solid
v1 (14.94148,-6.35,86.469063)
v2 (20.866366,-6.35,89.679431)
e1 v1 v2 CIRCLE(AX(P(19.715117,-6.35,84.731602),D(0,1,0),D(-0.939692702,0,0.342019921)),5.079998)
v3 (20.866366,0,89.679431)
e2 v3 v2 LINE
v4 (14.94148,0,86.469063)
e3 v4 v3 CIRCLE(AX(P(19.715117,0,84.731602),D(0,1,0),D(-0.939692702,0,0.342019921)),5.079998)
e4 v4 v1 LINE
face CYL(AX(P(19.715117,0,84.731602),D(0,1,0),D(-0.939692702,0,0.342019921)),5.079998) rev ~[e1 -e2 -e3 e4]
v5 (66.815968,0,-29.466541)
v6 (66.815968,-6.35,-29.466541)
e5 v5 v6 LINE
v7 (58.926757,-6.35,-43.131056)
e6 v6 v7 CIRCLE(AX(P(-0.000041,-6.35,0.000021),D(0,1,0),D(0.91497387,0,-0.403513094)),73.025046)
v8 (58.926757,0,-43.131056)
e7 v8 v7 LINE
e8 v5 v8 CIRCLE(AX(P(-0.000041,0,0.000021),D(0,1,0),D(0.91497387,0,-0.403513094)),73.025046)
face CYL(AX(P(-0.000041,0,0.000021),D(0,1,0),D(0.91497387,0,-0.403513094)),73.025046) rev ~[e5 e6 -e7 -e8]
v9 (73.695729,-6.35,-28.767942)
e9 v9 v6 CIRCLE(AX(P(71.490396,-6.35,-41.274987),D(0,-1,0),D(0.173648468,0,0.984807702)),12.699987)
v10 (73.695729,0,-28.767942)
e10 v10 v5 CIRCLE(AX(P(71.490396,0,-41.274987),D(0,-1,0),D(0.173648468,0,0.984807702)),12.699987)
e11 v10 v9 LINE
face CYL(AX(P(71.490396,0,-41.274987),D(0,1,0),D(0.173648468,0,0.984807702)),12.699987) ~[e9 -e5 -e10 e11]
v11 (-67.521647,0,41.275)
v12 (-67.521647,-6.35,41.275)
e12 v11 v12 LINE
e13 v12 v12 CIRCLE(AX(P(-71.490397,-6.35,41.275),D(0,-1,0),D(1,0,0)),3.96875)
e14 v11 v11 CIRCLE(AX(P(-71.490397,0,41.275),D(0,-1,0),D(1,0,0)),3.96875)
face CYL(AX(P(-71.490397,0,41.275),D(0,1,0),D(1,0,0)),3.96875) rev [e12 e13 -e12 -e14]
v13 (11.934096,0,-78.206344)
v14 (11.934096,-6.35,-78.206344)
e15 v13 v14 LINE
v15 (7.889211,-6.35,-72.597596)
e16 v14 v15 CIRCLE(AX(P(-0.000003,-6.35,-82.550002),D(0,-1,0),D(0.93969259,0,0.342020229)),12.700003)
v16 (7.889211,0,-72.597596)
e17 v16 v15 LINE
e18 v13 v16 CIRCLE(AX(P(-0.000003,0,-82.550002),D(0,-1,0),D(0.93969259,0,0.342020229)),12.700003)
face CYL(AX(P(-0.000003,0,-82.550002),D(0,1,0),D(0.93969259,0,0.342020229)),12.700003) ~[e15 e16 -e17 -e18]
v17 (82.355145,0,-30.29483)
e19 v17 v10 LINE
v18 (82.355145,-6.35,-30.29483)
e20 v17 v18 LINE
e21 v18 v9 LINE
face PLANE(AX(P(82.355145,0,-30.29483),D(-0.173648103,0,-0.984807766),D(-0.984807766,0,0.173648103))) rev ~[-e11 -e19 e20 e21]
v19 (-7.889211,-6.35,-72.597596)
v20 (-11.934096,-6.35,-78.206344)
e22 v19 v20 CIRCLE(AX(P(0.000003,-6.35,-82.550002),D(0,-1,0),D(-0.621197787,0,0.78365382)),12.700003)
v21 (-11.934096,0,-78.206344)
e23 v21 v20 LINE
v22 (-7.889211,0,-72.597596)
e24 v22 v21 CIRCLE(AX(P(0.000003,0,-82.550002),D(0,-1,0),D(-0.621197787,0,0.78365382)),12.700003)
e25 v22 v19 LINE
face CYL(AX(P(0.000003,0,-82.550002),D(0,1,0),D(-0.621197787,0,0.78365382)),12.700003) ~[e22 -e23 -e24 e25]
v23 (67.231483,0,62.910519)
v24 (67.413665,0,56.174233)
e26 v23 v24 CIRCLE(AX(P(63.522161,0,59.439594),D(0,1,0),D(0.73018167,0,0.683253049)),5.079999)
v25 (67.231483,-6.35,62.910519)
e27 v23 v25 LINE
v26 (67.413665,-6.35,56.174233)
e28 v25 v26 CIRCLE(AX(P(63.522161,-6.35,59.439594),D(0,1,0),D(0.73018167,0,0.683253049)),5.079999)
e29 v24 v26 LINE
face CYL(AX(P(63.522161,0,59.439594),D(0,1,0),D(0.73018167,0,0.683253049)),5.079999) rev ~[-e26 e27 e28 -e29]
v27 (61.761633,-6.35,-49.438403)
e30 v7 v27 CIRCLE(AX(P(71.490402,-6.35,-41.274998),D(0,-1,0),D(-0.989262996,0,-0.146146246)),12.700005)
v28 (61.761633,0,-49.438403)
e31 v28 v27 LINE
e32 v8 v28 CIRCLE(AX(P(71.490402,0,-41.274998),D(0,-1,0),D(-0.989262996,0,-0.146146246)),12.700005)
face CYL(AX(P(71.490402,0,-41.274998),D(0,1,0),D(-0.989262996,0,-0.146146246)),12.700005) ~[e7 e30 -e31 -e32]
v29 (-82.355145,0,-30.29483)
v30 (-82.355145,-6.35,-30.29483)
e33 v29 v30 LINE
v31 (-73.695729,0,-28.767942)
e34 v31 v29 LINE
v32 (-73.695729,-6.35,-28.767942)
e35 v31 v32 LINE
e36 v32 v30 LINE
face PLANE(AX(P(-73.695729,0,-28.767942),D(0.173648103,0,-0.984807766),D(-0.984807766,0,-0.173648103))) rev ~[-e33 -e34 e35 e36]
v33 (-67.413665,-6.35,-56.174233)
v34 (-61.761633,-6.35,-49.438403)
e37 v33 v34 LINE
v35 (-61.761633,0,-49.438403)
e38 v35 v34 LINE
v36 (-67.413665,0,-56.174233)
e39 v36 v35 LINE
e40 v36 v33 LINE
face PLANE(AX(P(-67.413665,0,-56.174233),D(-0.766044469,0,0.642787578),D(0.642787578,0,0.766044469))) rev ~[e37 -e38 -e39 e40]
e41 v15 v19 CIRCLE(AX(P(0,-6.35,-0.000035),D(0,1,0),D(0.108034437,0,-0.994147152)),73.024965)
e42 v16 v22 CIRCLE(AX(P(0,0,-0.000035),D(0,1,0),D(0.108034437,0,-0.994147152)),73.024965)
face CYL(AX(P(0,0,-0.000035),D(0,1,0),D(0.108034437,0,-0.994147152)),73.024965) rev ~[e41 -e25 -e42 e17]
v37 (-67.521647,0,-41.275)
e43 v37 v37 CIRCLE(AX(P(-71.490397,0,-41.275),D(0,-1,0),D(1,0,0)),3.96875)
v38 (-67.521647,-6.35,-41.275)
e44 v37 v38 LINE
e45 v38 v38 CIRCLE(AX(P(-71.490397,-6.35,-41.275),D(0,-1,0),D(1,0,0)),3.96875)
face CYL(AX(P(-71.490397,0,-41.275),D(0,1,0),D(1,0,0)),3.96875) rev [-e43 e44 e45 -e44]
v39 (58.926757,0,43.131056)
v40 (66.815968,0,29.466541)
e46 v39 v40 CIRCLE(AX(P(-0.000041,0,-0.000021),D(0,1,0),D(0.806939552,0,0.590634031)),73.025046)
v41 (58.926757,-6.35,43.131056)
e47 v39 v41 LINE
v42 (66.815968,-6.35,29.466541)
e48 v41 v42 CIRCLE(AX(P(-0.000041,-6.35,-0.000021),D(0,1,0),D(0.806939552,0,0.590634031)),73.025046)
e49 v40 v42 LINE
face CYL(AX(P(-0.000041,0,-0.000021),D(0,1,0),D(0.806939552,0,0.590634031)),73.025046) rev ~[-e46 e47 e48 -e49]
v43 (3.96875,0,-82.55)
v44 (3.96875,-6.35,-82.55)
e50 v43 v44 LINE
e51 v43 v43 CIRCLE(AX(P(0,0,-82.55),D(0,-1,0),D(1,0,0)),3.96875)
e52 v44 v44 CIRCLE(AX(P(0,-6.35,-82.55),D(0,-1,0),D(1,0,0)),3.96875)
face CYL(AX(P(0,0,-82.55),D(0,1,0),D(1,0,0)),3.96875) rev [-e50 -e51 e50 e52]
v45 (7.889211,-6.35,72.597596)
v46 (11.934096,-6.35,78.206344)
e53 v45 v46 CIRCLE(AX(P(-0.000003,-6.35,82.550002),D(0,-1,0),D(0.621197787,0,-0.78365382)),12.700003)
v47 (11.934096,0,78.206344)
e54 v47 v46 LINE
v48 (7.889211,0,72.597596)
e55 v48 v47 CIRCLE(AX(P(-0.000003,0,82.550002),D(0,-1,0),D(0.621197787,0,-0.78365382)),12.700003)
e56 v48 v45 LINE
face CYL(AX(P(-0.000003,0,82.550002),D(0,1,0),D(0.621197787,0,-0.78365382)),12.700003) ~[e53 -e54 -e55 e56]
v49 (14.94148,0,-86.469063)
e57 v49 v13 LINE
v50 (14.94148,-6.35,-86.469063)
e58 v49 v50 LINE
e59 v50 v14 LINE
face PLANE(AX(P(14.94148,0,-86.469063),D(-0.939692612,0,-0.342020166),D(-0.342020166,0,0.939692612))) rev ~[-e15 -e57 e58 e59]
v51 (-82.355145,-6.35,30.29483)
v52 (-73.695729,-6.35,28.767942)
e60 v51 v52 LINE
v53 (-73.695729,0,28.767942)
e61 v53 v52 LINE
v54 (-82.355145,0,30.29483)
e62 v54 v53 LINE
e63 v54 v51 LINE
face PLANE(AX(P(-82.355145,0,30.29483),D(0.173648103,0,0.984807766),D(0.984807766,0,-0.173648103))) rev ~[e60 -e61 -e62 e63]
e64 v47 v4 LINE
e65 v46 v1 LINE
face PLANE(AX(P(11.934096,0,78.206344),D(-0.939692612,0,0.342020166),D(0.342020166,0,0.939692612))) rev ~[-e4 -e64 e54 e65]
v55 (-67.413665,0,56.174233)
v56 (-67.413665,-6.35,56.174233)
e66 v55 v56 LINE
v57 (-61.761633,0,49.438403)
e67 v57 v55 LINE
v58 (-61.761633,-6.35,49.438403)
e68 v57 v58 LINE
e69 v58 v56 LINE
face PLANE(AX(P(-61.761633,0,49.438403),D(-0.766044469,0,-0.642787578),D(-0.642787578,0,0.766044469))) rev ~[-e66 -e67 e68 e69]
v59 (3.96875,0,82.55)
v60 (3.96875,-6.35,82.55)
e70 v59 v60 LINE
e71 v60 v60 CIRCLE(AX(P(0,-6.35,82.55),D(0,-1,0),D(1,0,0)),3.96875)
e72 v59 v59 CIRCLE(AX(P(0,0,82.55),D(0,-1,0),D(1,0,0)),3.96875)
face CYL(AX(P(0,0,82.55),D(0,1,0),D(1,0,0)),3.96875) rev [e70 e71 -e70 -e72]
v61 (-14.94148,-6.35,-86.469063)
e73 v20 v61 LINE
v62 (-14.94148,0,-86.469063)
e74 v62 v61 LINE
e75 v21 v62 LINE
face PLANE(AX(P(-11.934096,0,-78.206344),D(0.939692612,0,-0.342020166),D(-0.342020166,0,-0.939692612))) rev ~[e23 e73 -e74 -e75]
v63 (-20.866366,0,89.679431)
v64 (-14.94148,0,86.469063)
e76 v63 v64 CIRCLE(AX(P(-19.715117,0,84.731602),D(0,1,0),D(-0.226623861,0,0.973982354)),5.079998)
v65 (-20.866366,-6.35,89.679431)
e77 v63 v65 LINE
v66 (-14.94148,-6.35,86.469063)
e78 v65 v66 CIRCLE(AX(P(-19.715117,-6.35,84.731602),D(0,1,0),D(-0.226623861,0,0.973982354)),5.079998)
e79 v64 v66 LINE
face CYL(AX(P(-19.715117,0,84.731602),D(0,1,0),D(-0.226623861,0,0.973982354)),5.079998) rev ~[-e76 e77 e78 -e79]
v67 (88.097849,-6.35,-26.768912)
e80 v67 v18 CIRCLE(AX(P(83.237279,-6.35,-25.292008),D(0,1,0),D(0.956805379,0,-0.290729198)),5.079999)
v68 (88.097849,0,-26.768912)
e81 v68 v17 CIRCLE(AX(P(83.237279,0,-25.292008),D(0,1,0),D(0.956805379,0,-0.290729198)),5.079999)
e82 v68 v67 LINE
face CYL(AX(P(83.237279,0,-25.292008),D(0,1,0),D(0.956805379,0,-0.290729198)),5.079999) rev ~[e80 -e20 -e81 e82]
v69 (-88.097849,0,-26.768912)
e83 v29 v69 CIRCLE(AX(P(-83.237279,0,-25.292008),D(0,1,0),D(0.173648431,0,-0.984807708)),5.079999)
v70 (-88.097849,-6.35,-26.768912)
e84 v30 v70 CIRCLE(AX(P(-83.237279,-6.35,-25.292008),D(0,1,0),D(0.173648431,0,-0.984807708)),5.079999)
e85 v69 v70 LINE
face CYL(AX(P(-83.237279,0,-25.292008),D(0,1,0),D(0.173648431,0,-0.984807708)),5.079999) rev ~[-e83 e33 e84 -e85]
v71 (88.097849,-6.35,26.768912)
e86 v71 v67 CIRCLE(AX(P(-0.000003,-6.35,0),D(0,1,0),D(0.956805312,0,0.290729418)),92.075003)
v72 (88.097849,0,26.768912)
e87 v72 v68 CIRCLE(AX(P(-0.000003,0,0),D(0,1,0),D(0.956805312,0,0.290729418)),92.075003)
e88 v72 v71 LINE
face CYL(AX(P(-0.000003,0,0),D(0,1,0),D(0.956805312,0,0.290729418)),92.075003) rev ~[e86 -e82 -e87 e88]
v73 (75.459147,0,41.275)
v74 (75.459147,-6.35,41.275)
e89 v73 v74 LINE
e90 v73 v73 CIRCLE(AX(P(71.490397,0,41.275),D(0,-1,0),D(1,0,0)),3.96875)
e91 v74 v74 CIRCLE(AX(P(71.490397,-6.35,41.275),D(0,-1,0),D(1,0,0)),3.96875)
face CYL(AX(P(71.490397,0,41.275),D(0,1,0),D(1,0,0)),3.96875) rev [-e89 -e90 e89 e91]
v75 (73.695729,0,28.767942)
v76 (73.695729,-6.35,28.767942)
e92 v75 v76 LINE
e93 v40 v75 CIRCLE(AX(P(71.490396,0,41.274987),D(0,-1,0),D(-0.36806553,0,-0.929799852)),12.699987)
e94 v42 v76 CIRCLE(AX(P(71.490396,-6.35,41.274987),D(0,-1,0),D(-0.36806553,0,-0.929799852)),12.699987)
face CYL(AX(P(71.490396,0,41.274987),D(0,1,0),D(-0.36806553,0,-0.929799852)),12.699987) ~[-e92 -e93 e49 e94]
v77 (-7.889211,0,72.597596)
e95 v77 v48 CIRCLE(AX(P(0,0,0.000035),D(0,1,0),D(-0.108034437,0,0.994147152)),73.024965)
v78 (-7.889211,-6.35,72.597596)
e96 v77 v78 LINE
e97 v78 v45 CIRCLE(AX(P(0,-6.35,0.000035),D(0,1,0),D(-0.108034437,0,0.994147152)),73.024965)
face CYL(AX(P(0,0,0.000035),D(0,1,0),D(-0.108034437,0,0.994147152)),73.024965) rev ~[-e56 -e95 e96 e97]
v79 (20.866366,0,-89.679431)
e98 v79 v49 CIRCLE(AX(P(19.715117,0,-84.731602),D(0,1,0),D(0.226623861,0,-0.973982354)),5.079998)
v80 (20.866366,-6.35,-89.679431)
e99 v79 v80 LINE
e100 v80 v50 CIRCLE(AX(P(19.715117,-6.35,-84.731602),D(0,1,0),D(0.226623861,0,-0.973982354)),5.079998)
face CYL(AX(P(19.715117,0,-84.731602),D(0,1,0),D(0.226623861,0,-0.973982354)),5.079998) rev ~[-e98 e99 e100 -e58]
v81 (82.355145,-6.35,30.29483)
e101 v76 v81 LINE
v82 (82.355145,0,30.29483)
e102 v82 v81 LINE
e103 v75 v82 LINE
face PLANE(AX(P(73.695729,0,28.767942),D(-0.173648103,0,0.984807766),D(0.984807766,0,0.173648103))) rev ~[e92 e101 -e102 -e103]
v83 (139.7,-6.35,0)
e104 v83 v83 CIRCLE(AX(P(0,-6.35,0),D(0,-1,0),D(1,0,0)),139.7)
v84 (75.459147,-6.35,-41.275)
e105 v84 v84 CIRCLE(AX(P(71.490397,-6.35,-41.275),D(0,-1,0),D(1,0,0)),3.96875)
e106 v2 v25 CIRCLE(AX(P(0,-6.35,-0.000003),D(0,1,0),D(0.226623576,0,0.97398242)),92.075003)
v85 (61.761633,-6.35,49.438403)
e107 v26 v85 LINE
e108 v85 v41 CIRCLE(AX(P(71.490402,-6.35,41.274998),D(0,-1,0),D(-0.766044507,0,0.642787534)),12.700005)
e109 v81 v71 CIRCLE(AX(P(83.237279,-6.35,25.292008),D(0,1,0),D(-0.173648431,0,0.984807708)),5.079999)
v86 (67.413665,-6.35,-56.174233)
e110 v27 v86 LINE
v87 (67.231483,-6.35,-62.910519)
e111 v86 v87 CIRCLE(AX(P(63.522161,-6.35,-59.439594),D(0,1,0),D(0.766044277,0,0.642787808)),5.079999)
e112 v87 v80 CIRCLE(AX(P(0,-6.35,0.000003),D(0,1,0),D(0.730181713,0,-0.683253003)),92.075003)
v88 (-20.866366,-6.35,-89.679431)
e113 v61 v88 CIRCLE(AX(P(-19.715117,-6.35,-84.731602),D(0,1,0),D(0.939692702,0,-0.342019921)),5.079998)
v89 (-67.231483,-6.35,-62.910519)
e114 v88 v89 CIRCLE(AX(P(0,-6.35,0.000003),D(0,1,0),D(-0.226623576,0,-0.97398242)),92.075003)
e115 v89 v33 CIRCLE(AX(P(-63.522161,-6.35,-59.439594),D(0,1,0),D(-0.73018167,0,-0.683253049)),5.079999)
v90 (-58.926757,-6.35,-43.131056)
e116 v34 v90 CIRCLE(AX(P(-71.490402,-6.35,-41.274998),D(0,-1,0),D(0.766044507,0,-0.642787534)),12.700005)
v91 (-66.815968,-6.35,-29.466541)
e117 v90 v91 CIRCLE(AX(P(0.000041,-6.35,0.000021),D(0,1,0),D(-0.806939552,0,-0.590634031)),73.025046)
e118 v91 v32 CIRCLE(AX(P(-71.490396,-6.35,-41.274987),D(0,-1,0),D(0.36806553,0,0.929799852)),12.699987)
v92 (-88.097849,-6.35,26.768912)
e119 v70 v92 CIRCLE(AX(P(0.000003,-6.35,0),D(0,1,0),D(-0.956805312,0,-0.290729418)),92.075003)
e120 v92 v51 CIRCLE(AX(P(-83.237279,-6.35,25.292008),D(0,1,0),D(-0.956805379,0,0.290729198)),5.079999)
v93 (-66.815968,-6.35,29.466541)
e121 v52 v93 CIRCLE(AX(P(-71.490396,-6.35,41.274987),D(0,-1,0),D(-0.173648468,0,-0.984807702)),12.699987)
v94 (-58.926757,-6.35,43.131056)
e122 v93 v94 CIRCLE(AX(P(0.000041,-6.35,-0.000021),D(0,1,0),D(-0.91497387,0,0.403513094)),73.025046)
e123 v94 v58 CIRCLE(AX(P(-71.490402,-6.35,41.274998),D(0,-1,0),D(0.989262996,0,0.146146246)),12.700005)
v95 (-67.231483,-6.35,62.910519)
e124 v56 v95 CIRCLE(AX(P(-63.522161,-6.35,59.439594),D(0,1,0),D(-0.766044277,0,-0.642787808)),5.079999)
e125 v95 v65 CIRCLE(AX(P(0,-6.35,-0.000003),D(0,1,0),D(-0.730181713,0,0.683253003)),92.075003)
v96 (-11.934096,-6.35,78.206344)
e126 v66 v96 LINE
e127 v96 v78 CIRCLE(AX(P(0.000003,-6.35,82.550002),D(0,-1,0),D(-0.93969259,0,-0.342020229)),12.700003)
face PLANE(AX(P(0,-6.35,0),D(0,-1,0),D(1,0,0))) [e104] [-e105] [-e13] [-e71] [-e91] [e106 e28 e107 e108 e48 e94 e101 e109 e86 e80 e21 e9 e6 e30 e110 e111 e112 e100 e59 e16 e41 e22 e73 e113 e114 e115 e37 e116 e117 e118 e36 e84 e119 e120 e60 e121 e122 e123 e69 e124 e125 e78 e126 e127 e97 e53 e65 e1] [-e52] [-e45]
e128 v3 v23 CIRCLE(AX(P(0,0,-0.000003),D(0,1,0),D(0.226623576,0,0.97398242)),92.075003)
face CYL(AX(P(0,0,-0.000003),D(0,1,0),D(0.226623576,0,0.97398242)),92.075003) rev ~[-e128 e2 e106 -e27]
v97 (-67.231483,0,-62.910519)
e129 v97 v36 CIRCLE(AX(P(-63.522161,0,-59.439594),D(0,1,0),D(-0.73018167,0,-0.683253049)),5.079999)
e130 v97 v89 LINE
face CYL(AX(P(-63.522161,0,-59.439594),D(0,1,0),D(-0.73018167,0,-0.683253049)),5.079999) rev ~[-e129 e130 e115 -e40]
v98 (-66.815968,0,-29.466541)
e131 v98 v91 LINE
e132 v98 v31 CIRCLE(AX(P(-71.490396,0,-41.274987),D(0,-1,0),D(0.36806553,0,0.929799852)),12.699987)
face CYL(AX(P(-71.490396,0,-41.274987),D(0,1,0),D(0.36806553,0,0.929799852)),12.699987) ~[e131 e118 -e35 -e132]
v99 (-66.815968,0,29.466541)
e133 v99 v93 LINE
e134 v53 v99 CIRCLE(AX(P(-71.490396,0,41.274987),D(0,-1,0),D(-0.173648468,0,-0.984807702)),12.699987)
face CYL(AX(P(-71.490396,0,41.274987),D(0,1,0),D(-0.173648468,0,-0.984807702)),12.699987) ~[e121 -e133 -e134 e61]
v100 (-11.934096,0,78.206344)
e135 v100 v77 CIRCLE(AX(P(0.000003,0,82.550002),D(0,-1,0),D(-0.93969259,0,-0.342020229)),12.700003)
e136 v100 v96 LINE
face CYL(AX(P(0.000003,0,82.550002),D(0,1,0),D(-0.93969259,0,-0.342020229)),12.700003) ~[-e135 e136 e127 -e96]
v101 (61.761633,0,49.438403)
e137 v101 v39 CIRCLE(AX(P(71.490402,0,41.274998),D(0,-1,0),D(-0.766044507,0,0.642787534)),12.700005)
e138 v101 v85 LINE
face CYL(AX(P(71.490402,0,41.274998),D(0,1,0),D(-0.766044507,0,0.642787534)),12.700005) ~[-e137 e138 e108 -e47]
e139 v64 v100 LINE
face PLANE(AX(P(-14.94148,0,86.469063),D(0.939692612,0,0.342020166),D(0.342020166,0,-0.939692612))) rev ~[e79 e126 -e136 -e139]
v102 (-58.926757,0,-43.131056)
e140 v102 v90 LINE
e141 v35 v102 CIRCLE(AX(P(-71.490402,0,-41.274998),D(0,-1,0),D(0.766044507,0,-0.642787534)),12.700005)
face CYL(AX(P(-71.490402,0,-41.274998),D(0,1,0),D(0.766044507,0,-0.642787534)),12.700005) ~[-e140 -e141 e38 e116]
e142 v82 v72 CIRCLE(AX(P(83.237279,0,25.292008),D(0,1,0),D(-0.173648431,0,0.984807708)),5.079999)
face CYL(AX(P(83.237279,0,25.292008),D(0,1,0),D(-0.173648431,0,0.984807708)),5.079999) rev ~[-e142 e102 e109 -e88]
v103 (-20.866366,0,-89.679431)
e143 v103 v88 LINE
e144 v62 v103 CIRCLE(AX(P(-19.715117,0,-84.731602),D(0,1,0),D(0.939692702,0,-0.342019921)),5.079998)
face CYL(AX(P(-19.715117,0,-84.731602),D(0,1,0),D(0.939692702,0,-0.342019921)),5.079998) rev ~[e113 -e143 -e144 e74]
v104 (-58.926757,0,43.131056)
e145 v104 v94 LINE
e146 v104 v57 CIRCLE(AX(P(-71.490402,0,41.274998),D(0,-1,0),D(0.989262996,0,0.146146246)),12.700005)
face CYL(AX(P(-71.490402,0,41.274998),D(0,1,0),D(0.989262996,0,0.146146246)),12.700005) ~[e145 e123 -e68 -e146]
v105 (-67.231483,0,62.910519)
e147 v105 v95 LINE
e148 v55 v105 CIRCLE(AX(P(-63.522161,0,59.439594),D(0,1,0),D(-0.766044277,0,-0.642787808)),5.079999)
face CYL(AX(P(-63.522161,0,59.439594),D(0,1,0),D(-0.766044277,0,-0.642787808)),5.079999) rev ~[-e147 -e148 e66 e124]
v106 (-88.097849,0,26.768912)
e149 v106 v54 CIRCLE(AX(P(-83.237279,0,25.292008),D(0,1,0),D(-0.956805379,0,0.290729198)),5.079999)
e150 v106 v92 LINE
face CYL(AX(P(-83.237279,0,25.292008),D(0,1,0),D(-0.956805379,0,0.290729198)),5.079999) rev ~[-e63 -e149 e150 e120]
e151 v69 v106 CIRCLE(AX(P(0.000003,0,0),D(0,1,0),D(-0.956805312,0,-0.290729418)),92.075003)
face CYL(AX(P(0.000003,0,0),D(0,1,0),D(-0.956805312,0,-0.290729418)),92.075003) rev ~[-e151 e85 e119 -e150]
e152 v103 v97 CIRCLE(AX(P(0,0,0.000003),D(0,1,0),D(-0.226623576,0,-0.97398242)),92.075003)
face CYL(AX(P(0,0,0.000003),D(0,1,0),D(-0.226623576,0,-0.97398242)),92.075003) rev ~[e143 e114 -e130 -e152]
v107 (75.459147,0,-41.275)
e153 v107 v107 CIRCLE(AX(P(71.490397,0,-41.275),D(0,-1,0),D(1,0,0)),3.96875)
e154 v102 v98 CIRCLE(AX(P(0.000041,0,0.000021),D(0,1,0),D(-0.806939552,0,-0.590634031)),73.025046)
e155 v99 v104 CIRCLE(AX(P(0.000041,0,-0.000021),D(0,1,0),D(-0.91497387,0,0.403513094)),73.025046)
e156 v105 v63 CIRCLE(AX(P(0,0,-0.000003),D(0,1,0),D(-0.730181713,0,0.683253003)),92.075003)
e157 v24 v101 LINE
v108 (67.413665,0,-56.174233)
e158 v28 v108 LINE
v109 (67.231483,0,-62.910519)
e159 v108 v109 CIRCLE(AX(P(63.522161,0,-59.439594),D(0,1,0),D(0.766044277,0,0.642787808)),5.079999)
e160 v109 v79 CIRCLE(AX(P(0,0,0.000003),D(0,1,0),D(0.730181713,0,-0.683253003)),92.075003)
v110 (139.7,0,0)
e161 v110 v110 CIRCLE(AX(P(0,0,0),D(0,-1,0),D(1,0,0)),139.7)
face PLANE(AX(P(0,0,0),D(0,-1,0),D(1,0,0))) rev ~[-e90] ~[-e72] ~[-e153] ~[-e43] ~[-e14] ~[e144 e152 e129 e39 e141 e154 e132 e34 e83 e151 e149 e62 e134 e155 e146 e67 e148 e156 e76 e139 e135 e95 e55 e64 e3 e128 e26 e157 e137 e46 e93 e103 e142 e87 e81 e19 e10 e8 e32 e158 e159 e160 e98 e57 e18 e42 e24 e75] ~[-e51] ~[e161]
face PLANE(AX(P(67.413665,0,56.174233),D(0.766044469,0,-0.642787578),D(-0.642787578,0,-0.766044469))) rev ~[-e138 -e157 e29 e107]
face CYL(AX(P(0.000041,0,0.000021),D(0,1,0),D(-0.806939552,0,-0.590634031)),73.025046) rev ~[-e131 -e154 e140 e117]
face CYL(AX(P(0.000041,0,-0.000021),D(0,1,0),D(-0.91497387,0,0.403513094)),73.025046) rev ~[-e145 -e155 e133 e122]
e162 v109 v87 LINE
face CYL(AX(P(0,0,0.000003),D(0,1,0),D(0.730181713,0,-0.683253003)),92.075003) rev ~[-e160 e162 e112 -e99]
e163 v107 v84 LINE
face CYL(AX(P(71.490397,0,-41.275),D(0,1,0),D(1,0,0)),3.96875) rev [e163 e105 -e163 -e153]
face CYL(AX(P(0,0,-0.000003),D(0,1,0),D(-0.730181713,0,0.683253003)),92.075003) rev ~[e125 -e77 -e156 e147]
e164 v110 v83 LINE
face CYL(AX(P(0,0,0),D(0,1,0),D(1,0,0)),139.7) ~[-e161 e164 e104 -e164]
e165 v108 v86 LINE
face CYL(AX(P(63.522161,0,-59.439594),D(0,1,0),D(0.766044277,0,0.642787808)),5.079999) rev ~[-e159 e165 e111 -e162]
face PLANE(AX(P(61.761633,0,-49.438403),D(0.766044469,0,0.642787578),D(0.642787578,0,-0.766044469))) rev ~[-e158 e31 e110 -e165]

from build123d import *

# Parameters (mm, degrees)
F0_R     = 139.7
F0_R_2   = 3.96875
F1_DEPTH = 6.35


with BuildPart() as f1:
    # F0 (on Front) → F1 (new body)
    with BuildSketch(Plane.XZ):
        Circle(F0_R)
        with Locations((-71.490397, -41.275)):
            Circle(F0_R_2, mode=Mode.SUBTRACT)
        with Locations((0, -82.55)):
            Circle(F0_R_2, mode=Mode.SUBTRACT)
        with Locations((71.490397, -41.275)):
            Circle(F0_R_2, mode=Mode.SUBTRACT)
        with Locations((-71.490397, 41.275)):
            Circle(F0_R_2, mode=Mode.SUBTRACT)
        with BuildLine():
            ThreePointArc((-67.231483, 62.910519), (-46.0375, 79.739289), (-20.866366, 89.679431))
            ThreePointArc((-20.866366, 89.679431), (-17.294985, 89.198071), (-14.94148, 86.469063))
            Line((-14.94148, 86.469063), (-11.934096, 78.206344))
            ThreePointArc((-11.934096, 78.206344), (-10.300747, 75.121366), (-7.889211, 72.597596))
            ThreePointArc((-7.889211, 72.597596), (0, 73.025), (7.889211, 72.597596))
            ThreePointArc((7.889211, 72.597596), (10.300747, 75.121366), (11.934096, 78.206344))
            Line((11.934096, 78.206344), (14.94148, 86.469063))
            ThreePointArc((14.94148, 86.469063), (17.294985, 89.198071), (20.866366, 89.679431))
            ThreePointArc((20.866366, 89.679431), (46.0375, 79.739289), (67.231483, 62.910519))
            ThreePointArc((67.231483, 62.910519), (68.600303, 59.576932), (67.413665, 56.174233))
            Line((67.413665, 56.174233), (61.761633, 49.438403))
            ThreePointArc((61.761633, 49.438403), (59.906638, 46.481392), (58.926757, 43.131056))
            ThreePointArc((58.926757, 43.131056), (63.241505, 36.5125), (66.815968, 29.466541))
            ThreePointArc((66.815968, 29.466541), (70.207385, 28.639974), (73.695729, 28.767942))
            Line((73.695729, 28.767942), (82.355145, 30.29483))
            ThreePointArc((82.355145, 30.29483), (85.895288, 29.621139), (88.097849, 26.768912))
            ThreePointArc((88.097849, 26.768912), (92.075, 0), (88.097849, -26.768912))
            ThreePointArc((88.097849, -26.768912), (85.895288, -29.621139), (82.355145, -30.29483))
            Line((82.355145, -30.29483), (73.695729, -28.767942))
            ThreePointArc((73.695729, -28.767942), (70.207385, -28.639974), (66.815968, -29.466541))
            ThreePointArc((66.815968, -29.466541), (63.241505, -36.5125), (58.926757, -43.131056))
            ThreePointArc((58.926757, -43.131056), (59.906638, -46.481392), (61.761633, -49.438403))
            Line((61.761633, -49.438403), (67.413665, -56.174233))
            ThreePointArc((67.413665, -56.174233), (68.600303, -59.576932), (67.231483, -62.910519))
            ThreePointArc((67.231483, -62.910519), (46.0375, -79.739289), (20.866366, -89.679431))
            ThreePointArc((20.866366, -89.679431), (17.294985, -89.198071), (14.94148, -86.469063))
            Line((14.94148, -86.469063), (11.934096, -78.206344))
            ThreePointArc((11.934096, -78.206344), (10.300747, -75.121366), (7.889211, -72.597596))
            ThreePointArc((7.889211, -72.597596), (0, -73.025), (-7.889211, -72.597596))
            ThreePointArc((-7.889211, -72.597596), (-10.300747, -75.121366), (-11.934096, -78.206344))
            Line((-11.934096, -78.206344), (-14.94148, -86.469063))
            ThreePointArc((-14.94148, -86.469063), (-17.294985, -89.198071), (-20.866366, -89.679431))
            ThreePointArc((-20.866366, -89.679431), (-46.0375, -79.739289), (-67.231483, -62.910519))
            ThreePointArc((-67.231483, -62.910519), (-68.600303, -59.576932), (-67.413665, -56.174233))
            Line((-67.413665, -56.174233), (-61.761633, -49.438403))
            ThreePointArc((-61.761633, -49.438403), (-59.906638, -46.481392), (-58.926757, -43.131056))
            ThreePointArc((-58.926757, -43.131056), (-63.241505, -36.5125), (-66.815968, -29.466541))
            ThreePointArc((-66.815968, -29.466541), (-70.207385, -28.639974), (-73.695729, -28.767942))
            Line((-73.695729, -28.767942), (-82.355145, -30.29483))
            ThreePointArc((-82.355145, -30.29483), (-85.895288, -29.621139), (-88.097849, -26.768912))
            ThreePointArc((-88.097849, -26.768912), (-92.075, 0), (-88.097849, 26.768912))
            ThreePointArc((-88.097849, 26.768912), (-85.895288, 29.621139), (-82.355145, 30.29483))
            Line((-82.355145, 30.29483), (-73.695729, 28.767942))
            ThreePointArc((-73.695729, 28.767942), (-70.207385, 28.639974), (-66.815968, 29.466541))
            ThreePointArc((-66.815968, 29.466541), (-63.241505, 36.5125), (-58.926757, 43.131056))
            ThreePointArc((-58.926757, 43.131056), (-59.906638, 46.481392), (-61.761633, 49.438403))
            Line((-61.761633, 49.438403), (-67.413665, 56.174233))
            ThreePointArc((-67.413665, 56.174233), (-68.600303, 59.576932), (-67.231483, 62.910519))
        make_face(mode=Mode.SUBTRACT)
        with Locations((71.490397, 41.275)):
            Circle(F0_R_2, mode=Mode.SUBTRACT)
        with Locations((0, 82.55)):
            Circle(F0_R_2, mode=Mode.SUBTRACT)
    extrude(amount=F1_DEPTH)


solid = f1.part
